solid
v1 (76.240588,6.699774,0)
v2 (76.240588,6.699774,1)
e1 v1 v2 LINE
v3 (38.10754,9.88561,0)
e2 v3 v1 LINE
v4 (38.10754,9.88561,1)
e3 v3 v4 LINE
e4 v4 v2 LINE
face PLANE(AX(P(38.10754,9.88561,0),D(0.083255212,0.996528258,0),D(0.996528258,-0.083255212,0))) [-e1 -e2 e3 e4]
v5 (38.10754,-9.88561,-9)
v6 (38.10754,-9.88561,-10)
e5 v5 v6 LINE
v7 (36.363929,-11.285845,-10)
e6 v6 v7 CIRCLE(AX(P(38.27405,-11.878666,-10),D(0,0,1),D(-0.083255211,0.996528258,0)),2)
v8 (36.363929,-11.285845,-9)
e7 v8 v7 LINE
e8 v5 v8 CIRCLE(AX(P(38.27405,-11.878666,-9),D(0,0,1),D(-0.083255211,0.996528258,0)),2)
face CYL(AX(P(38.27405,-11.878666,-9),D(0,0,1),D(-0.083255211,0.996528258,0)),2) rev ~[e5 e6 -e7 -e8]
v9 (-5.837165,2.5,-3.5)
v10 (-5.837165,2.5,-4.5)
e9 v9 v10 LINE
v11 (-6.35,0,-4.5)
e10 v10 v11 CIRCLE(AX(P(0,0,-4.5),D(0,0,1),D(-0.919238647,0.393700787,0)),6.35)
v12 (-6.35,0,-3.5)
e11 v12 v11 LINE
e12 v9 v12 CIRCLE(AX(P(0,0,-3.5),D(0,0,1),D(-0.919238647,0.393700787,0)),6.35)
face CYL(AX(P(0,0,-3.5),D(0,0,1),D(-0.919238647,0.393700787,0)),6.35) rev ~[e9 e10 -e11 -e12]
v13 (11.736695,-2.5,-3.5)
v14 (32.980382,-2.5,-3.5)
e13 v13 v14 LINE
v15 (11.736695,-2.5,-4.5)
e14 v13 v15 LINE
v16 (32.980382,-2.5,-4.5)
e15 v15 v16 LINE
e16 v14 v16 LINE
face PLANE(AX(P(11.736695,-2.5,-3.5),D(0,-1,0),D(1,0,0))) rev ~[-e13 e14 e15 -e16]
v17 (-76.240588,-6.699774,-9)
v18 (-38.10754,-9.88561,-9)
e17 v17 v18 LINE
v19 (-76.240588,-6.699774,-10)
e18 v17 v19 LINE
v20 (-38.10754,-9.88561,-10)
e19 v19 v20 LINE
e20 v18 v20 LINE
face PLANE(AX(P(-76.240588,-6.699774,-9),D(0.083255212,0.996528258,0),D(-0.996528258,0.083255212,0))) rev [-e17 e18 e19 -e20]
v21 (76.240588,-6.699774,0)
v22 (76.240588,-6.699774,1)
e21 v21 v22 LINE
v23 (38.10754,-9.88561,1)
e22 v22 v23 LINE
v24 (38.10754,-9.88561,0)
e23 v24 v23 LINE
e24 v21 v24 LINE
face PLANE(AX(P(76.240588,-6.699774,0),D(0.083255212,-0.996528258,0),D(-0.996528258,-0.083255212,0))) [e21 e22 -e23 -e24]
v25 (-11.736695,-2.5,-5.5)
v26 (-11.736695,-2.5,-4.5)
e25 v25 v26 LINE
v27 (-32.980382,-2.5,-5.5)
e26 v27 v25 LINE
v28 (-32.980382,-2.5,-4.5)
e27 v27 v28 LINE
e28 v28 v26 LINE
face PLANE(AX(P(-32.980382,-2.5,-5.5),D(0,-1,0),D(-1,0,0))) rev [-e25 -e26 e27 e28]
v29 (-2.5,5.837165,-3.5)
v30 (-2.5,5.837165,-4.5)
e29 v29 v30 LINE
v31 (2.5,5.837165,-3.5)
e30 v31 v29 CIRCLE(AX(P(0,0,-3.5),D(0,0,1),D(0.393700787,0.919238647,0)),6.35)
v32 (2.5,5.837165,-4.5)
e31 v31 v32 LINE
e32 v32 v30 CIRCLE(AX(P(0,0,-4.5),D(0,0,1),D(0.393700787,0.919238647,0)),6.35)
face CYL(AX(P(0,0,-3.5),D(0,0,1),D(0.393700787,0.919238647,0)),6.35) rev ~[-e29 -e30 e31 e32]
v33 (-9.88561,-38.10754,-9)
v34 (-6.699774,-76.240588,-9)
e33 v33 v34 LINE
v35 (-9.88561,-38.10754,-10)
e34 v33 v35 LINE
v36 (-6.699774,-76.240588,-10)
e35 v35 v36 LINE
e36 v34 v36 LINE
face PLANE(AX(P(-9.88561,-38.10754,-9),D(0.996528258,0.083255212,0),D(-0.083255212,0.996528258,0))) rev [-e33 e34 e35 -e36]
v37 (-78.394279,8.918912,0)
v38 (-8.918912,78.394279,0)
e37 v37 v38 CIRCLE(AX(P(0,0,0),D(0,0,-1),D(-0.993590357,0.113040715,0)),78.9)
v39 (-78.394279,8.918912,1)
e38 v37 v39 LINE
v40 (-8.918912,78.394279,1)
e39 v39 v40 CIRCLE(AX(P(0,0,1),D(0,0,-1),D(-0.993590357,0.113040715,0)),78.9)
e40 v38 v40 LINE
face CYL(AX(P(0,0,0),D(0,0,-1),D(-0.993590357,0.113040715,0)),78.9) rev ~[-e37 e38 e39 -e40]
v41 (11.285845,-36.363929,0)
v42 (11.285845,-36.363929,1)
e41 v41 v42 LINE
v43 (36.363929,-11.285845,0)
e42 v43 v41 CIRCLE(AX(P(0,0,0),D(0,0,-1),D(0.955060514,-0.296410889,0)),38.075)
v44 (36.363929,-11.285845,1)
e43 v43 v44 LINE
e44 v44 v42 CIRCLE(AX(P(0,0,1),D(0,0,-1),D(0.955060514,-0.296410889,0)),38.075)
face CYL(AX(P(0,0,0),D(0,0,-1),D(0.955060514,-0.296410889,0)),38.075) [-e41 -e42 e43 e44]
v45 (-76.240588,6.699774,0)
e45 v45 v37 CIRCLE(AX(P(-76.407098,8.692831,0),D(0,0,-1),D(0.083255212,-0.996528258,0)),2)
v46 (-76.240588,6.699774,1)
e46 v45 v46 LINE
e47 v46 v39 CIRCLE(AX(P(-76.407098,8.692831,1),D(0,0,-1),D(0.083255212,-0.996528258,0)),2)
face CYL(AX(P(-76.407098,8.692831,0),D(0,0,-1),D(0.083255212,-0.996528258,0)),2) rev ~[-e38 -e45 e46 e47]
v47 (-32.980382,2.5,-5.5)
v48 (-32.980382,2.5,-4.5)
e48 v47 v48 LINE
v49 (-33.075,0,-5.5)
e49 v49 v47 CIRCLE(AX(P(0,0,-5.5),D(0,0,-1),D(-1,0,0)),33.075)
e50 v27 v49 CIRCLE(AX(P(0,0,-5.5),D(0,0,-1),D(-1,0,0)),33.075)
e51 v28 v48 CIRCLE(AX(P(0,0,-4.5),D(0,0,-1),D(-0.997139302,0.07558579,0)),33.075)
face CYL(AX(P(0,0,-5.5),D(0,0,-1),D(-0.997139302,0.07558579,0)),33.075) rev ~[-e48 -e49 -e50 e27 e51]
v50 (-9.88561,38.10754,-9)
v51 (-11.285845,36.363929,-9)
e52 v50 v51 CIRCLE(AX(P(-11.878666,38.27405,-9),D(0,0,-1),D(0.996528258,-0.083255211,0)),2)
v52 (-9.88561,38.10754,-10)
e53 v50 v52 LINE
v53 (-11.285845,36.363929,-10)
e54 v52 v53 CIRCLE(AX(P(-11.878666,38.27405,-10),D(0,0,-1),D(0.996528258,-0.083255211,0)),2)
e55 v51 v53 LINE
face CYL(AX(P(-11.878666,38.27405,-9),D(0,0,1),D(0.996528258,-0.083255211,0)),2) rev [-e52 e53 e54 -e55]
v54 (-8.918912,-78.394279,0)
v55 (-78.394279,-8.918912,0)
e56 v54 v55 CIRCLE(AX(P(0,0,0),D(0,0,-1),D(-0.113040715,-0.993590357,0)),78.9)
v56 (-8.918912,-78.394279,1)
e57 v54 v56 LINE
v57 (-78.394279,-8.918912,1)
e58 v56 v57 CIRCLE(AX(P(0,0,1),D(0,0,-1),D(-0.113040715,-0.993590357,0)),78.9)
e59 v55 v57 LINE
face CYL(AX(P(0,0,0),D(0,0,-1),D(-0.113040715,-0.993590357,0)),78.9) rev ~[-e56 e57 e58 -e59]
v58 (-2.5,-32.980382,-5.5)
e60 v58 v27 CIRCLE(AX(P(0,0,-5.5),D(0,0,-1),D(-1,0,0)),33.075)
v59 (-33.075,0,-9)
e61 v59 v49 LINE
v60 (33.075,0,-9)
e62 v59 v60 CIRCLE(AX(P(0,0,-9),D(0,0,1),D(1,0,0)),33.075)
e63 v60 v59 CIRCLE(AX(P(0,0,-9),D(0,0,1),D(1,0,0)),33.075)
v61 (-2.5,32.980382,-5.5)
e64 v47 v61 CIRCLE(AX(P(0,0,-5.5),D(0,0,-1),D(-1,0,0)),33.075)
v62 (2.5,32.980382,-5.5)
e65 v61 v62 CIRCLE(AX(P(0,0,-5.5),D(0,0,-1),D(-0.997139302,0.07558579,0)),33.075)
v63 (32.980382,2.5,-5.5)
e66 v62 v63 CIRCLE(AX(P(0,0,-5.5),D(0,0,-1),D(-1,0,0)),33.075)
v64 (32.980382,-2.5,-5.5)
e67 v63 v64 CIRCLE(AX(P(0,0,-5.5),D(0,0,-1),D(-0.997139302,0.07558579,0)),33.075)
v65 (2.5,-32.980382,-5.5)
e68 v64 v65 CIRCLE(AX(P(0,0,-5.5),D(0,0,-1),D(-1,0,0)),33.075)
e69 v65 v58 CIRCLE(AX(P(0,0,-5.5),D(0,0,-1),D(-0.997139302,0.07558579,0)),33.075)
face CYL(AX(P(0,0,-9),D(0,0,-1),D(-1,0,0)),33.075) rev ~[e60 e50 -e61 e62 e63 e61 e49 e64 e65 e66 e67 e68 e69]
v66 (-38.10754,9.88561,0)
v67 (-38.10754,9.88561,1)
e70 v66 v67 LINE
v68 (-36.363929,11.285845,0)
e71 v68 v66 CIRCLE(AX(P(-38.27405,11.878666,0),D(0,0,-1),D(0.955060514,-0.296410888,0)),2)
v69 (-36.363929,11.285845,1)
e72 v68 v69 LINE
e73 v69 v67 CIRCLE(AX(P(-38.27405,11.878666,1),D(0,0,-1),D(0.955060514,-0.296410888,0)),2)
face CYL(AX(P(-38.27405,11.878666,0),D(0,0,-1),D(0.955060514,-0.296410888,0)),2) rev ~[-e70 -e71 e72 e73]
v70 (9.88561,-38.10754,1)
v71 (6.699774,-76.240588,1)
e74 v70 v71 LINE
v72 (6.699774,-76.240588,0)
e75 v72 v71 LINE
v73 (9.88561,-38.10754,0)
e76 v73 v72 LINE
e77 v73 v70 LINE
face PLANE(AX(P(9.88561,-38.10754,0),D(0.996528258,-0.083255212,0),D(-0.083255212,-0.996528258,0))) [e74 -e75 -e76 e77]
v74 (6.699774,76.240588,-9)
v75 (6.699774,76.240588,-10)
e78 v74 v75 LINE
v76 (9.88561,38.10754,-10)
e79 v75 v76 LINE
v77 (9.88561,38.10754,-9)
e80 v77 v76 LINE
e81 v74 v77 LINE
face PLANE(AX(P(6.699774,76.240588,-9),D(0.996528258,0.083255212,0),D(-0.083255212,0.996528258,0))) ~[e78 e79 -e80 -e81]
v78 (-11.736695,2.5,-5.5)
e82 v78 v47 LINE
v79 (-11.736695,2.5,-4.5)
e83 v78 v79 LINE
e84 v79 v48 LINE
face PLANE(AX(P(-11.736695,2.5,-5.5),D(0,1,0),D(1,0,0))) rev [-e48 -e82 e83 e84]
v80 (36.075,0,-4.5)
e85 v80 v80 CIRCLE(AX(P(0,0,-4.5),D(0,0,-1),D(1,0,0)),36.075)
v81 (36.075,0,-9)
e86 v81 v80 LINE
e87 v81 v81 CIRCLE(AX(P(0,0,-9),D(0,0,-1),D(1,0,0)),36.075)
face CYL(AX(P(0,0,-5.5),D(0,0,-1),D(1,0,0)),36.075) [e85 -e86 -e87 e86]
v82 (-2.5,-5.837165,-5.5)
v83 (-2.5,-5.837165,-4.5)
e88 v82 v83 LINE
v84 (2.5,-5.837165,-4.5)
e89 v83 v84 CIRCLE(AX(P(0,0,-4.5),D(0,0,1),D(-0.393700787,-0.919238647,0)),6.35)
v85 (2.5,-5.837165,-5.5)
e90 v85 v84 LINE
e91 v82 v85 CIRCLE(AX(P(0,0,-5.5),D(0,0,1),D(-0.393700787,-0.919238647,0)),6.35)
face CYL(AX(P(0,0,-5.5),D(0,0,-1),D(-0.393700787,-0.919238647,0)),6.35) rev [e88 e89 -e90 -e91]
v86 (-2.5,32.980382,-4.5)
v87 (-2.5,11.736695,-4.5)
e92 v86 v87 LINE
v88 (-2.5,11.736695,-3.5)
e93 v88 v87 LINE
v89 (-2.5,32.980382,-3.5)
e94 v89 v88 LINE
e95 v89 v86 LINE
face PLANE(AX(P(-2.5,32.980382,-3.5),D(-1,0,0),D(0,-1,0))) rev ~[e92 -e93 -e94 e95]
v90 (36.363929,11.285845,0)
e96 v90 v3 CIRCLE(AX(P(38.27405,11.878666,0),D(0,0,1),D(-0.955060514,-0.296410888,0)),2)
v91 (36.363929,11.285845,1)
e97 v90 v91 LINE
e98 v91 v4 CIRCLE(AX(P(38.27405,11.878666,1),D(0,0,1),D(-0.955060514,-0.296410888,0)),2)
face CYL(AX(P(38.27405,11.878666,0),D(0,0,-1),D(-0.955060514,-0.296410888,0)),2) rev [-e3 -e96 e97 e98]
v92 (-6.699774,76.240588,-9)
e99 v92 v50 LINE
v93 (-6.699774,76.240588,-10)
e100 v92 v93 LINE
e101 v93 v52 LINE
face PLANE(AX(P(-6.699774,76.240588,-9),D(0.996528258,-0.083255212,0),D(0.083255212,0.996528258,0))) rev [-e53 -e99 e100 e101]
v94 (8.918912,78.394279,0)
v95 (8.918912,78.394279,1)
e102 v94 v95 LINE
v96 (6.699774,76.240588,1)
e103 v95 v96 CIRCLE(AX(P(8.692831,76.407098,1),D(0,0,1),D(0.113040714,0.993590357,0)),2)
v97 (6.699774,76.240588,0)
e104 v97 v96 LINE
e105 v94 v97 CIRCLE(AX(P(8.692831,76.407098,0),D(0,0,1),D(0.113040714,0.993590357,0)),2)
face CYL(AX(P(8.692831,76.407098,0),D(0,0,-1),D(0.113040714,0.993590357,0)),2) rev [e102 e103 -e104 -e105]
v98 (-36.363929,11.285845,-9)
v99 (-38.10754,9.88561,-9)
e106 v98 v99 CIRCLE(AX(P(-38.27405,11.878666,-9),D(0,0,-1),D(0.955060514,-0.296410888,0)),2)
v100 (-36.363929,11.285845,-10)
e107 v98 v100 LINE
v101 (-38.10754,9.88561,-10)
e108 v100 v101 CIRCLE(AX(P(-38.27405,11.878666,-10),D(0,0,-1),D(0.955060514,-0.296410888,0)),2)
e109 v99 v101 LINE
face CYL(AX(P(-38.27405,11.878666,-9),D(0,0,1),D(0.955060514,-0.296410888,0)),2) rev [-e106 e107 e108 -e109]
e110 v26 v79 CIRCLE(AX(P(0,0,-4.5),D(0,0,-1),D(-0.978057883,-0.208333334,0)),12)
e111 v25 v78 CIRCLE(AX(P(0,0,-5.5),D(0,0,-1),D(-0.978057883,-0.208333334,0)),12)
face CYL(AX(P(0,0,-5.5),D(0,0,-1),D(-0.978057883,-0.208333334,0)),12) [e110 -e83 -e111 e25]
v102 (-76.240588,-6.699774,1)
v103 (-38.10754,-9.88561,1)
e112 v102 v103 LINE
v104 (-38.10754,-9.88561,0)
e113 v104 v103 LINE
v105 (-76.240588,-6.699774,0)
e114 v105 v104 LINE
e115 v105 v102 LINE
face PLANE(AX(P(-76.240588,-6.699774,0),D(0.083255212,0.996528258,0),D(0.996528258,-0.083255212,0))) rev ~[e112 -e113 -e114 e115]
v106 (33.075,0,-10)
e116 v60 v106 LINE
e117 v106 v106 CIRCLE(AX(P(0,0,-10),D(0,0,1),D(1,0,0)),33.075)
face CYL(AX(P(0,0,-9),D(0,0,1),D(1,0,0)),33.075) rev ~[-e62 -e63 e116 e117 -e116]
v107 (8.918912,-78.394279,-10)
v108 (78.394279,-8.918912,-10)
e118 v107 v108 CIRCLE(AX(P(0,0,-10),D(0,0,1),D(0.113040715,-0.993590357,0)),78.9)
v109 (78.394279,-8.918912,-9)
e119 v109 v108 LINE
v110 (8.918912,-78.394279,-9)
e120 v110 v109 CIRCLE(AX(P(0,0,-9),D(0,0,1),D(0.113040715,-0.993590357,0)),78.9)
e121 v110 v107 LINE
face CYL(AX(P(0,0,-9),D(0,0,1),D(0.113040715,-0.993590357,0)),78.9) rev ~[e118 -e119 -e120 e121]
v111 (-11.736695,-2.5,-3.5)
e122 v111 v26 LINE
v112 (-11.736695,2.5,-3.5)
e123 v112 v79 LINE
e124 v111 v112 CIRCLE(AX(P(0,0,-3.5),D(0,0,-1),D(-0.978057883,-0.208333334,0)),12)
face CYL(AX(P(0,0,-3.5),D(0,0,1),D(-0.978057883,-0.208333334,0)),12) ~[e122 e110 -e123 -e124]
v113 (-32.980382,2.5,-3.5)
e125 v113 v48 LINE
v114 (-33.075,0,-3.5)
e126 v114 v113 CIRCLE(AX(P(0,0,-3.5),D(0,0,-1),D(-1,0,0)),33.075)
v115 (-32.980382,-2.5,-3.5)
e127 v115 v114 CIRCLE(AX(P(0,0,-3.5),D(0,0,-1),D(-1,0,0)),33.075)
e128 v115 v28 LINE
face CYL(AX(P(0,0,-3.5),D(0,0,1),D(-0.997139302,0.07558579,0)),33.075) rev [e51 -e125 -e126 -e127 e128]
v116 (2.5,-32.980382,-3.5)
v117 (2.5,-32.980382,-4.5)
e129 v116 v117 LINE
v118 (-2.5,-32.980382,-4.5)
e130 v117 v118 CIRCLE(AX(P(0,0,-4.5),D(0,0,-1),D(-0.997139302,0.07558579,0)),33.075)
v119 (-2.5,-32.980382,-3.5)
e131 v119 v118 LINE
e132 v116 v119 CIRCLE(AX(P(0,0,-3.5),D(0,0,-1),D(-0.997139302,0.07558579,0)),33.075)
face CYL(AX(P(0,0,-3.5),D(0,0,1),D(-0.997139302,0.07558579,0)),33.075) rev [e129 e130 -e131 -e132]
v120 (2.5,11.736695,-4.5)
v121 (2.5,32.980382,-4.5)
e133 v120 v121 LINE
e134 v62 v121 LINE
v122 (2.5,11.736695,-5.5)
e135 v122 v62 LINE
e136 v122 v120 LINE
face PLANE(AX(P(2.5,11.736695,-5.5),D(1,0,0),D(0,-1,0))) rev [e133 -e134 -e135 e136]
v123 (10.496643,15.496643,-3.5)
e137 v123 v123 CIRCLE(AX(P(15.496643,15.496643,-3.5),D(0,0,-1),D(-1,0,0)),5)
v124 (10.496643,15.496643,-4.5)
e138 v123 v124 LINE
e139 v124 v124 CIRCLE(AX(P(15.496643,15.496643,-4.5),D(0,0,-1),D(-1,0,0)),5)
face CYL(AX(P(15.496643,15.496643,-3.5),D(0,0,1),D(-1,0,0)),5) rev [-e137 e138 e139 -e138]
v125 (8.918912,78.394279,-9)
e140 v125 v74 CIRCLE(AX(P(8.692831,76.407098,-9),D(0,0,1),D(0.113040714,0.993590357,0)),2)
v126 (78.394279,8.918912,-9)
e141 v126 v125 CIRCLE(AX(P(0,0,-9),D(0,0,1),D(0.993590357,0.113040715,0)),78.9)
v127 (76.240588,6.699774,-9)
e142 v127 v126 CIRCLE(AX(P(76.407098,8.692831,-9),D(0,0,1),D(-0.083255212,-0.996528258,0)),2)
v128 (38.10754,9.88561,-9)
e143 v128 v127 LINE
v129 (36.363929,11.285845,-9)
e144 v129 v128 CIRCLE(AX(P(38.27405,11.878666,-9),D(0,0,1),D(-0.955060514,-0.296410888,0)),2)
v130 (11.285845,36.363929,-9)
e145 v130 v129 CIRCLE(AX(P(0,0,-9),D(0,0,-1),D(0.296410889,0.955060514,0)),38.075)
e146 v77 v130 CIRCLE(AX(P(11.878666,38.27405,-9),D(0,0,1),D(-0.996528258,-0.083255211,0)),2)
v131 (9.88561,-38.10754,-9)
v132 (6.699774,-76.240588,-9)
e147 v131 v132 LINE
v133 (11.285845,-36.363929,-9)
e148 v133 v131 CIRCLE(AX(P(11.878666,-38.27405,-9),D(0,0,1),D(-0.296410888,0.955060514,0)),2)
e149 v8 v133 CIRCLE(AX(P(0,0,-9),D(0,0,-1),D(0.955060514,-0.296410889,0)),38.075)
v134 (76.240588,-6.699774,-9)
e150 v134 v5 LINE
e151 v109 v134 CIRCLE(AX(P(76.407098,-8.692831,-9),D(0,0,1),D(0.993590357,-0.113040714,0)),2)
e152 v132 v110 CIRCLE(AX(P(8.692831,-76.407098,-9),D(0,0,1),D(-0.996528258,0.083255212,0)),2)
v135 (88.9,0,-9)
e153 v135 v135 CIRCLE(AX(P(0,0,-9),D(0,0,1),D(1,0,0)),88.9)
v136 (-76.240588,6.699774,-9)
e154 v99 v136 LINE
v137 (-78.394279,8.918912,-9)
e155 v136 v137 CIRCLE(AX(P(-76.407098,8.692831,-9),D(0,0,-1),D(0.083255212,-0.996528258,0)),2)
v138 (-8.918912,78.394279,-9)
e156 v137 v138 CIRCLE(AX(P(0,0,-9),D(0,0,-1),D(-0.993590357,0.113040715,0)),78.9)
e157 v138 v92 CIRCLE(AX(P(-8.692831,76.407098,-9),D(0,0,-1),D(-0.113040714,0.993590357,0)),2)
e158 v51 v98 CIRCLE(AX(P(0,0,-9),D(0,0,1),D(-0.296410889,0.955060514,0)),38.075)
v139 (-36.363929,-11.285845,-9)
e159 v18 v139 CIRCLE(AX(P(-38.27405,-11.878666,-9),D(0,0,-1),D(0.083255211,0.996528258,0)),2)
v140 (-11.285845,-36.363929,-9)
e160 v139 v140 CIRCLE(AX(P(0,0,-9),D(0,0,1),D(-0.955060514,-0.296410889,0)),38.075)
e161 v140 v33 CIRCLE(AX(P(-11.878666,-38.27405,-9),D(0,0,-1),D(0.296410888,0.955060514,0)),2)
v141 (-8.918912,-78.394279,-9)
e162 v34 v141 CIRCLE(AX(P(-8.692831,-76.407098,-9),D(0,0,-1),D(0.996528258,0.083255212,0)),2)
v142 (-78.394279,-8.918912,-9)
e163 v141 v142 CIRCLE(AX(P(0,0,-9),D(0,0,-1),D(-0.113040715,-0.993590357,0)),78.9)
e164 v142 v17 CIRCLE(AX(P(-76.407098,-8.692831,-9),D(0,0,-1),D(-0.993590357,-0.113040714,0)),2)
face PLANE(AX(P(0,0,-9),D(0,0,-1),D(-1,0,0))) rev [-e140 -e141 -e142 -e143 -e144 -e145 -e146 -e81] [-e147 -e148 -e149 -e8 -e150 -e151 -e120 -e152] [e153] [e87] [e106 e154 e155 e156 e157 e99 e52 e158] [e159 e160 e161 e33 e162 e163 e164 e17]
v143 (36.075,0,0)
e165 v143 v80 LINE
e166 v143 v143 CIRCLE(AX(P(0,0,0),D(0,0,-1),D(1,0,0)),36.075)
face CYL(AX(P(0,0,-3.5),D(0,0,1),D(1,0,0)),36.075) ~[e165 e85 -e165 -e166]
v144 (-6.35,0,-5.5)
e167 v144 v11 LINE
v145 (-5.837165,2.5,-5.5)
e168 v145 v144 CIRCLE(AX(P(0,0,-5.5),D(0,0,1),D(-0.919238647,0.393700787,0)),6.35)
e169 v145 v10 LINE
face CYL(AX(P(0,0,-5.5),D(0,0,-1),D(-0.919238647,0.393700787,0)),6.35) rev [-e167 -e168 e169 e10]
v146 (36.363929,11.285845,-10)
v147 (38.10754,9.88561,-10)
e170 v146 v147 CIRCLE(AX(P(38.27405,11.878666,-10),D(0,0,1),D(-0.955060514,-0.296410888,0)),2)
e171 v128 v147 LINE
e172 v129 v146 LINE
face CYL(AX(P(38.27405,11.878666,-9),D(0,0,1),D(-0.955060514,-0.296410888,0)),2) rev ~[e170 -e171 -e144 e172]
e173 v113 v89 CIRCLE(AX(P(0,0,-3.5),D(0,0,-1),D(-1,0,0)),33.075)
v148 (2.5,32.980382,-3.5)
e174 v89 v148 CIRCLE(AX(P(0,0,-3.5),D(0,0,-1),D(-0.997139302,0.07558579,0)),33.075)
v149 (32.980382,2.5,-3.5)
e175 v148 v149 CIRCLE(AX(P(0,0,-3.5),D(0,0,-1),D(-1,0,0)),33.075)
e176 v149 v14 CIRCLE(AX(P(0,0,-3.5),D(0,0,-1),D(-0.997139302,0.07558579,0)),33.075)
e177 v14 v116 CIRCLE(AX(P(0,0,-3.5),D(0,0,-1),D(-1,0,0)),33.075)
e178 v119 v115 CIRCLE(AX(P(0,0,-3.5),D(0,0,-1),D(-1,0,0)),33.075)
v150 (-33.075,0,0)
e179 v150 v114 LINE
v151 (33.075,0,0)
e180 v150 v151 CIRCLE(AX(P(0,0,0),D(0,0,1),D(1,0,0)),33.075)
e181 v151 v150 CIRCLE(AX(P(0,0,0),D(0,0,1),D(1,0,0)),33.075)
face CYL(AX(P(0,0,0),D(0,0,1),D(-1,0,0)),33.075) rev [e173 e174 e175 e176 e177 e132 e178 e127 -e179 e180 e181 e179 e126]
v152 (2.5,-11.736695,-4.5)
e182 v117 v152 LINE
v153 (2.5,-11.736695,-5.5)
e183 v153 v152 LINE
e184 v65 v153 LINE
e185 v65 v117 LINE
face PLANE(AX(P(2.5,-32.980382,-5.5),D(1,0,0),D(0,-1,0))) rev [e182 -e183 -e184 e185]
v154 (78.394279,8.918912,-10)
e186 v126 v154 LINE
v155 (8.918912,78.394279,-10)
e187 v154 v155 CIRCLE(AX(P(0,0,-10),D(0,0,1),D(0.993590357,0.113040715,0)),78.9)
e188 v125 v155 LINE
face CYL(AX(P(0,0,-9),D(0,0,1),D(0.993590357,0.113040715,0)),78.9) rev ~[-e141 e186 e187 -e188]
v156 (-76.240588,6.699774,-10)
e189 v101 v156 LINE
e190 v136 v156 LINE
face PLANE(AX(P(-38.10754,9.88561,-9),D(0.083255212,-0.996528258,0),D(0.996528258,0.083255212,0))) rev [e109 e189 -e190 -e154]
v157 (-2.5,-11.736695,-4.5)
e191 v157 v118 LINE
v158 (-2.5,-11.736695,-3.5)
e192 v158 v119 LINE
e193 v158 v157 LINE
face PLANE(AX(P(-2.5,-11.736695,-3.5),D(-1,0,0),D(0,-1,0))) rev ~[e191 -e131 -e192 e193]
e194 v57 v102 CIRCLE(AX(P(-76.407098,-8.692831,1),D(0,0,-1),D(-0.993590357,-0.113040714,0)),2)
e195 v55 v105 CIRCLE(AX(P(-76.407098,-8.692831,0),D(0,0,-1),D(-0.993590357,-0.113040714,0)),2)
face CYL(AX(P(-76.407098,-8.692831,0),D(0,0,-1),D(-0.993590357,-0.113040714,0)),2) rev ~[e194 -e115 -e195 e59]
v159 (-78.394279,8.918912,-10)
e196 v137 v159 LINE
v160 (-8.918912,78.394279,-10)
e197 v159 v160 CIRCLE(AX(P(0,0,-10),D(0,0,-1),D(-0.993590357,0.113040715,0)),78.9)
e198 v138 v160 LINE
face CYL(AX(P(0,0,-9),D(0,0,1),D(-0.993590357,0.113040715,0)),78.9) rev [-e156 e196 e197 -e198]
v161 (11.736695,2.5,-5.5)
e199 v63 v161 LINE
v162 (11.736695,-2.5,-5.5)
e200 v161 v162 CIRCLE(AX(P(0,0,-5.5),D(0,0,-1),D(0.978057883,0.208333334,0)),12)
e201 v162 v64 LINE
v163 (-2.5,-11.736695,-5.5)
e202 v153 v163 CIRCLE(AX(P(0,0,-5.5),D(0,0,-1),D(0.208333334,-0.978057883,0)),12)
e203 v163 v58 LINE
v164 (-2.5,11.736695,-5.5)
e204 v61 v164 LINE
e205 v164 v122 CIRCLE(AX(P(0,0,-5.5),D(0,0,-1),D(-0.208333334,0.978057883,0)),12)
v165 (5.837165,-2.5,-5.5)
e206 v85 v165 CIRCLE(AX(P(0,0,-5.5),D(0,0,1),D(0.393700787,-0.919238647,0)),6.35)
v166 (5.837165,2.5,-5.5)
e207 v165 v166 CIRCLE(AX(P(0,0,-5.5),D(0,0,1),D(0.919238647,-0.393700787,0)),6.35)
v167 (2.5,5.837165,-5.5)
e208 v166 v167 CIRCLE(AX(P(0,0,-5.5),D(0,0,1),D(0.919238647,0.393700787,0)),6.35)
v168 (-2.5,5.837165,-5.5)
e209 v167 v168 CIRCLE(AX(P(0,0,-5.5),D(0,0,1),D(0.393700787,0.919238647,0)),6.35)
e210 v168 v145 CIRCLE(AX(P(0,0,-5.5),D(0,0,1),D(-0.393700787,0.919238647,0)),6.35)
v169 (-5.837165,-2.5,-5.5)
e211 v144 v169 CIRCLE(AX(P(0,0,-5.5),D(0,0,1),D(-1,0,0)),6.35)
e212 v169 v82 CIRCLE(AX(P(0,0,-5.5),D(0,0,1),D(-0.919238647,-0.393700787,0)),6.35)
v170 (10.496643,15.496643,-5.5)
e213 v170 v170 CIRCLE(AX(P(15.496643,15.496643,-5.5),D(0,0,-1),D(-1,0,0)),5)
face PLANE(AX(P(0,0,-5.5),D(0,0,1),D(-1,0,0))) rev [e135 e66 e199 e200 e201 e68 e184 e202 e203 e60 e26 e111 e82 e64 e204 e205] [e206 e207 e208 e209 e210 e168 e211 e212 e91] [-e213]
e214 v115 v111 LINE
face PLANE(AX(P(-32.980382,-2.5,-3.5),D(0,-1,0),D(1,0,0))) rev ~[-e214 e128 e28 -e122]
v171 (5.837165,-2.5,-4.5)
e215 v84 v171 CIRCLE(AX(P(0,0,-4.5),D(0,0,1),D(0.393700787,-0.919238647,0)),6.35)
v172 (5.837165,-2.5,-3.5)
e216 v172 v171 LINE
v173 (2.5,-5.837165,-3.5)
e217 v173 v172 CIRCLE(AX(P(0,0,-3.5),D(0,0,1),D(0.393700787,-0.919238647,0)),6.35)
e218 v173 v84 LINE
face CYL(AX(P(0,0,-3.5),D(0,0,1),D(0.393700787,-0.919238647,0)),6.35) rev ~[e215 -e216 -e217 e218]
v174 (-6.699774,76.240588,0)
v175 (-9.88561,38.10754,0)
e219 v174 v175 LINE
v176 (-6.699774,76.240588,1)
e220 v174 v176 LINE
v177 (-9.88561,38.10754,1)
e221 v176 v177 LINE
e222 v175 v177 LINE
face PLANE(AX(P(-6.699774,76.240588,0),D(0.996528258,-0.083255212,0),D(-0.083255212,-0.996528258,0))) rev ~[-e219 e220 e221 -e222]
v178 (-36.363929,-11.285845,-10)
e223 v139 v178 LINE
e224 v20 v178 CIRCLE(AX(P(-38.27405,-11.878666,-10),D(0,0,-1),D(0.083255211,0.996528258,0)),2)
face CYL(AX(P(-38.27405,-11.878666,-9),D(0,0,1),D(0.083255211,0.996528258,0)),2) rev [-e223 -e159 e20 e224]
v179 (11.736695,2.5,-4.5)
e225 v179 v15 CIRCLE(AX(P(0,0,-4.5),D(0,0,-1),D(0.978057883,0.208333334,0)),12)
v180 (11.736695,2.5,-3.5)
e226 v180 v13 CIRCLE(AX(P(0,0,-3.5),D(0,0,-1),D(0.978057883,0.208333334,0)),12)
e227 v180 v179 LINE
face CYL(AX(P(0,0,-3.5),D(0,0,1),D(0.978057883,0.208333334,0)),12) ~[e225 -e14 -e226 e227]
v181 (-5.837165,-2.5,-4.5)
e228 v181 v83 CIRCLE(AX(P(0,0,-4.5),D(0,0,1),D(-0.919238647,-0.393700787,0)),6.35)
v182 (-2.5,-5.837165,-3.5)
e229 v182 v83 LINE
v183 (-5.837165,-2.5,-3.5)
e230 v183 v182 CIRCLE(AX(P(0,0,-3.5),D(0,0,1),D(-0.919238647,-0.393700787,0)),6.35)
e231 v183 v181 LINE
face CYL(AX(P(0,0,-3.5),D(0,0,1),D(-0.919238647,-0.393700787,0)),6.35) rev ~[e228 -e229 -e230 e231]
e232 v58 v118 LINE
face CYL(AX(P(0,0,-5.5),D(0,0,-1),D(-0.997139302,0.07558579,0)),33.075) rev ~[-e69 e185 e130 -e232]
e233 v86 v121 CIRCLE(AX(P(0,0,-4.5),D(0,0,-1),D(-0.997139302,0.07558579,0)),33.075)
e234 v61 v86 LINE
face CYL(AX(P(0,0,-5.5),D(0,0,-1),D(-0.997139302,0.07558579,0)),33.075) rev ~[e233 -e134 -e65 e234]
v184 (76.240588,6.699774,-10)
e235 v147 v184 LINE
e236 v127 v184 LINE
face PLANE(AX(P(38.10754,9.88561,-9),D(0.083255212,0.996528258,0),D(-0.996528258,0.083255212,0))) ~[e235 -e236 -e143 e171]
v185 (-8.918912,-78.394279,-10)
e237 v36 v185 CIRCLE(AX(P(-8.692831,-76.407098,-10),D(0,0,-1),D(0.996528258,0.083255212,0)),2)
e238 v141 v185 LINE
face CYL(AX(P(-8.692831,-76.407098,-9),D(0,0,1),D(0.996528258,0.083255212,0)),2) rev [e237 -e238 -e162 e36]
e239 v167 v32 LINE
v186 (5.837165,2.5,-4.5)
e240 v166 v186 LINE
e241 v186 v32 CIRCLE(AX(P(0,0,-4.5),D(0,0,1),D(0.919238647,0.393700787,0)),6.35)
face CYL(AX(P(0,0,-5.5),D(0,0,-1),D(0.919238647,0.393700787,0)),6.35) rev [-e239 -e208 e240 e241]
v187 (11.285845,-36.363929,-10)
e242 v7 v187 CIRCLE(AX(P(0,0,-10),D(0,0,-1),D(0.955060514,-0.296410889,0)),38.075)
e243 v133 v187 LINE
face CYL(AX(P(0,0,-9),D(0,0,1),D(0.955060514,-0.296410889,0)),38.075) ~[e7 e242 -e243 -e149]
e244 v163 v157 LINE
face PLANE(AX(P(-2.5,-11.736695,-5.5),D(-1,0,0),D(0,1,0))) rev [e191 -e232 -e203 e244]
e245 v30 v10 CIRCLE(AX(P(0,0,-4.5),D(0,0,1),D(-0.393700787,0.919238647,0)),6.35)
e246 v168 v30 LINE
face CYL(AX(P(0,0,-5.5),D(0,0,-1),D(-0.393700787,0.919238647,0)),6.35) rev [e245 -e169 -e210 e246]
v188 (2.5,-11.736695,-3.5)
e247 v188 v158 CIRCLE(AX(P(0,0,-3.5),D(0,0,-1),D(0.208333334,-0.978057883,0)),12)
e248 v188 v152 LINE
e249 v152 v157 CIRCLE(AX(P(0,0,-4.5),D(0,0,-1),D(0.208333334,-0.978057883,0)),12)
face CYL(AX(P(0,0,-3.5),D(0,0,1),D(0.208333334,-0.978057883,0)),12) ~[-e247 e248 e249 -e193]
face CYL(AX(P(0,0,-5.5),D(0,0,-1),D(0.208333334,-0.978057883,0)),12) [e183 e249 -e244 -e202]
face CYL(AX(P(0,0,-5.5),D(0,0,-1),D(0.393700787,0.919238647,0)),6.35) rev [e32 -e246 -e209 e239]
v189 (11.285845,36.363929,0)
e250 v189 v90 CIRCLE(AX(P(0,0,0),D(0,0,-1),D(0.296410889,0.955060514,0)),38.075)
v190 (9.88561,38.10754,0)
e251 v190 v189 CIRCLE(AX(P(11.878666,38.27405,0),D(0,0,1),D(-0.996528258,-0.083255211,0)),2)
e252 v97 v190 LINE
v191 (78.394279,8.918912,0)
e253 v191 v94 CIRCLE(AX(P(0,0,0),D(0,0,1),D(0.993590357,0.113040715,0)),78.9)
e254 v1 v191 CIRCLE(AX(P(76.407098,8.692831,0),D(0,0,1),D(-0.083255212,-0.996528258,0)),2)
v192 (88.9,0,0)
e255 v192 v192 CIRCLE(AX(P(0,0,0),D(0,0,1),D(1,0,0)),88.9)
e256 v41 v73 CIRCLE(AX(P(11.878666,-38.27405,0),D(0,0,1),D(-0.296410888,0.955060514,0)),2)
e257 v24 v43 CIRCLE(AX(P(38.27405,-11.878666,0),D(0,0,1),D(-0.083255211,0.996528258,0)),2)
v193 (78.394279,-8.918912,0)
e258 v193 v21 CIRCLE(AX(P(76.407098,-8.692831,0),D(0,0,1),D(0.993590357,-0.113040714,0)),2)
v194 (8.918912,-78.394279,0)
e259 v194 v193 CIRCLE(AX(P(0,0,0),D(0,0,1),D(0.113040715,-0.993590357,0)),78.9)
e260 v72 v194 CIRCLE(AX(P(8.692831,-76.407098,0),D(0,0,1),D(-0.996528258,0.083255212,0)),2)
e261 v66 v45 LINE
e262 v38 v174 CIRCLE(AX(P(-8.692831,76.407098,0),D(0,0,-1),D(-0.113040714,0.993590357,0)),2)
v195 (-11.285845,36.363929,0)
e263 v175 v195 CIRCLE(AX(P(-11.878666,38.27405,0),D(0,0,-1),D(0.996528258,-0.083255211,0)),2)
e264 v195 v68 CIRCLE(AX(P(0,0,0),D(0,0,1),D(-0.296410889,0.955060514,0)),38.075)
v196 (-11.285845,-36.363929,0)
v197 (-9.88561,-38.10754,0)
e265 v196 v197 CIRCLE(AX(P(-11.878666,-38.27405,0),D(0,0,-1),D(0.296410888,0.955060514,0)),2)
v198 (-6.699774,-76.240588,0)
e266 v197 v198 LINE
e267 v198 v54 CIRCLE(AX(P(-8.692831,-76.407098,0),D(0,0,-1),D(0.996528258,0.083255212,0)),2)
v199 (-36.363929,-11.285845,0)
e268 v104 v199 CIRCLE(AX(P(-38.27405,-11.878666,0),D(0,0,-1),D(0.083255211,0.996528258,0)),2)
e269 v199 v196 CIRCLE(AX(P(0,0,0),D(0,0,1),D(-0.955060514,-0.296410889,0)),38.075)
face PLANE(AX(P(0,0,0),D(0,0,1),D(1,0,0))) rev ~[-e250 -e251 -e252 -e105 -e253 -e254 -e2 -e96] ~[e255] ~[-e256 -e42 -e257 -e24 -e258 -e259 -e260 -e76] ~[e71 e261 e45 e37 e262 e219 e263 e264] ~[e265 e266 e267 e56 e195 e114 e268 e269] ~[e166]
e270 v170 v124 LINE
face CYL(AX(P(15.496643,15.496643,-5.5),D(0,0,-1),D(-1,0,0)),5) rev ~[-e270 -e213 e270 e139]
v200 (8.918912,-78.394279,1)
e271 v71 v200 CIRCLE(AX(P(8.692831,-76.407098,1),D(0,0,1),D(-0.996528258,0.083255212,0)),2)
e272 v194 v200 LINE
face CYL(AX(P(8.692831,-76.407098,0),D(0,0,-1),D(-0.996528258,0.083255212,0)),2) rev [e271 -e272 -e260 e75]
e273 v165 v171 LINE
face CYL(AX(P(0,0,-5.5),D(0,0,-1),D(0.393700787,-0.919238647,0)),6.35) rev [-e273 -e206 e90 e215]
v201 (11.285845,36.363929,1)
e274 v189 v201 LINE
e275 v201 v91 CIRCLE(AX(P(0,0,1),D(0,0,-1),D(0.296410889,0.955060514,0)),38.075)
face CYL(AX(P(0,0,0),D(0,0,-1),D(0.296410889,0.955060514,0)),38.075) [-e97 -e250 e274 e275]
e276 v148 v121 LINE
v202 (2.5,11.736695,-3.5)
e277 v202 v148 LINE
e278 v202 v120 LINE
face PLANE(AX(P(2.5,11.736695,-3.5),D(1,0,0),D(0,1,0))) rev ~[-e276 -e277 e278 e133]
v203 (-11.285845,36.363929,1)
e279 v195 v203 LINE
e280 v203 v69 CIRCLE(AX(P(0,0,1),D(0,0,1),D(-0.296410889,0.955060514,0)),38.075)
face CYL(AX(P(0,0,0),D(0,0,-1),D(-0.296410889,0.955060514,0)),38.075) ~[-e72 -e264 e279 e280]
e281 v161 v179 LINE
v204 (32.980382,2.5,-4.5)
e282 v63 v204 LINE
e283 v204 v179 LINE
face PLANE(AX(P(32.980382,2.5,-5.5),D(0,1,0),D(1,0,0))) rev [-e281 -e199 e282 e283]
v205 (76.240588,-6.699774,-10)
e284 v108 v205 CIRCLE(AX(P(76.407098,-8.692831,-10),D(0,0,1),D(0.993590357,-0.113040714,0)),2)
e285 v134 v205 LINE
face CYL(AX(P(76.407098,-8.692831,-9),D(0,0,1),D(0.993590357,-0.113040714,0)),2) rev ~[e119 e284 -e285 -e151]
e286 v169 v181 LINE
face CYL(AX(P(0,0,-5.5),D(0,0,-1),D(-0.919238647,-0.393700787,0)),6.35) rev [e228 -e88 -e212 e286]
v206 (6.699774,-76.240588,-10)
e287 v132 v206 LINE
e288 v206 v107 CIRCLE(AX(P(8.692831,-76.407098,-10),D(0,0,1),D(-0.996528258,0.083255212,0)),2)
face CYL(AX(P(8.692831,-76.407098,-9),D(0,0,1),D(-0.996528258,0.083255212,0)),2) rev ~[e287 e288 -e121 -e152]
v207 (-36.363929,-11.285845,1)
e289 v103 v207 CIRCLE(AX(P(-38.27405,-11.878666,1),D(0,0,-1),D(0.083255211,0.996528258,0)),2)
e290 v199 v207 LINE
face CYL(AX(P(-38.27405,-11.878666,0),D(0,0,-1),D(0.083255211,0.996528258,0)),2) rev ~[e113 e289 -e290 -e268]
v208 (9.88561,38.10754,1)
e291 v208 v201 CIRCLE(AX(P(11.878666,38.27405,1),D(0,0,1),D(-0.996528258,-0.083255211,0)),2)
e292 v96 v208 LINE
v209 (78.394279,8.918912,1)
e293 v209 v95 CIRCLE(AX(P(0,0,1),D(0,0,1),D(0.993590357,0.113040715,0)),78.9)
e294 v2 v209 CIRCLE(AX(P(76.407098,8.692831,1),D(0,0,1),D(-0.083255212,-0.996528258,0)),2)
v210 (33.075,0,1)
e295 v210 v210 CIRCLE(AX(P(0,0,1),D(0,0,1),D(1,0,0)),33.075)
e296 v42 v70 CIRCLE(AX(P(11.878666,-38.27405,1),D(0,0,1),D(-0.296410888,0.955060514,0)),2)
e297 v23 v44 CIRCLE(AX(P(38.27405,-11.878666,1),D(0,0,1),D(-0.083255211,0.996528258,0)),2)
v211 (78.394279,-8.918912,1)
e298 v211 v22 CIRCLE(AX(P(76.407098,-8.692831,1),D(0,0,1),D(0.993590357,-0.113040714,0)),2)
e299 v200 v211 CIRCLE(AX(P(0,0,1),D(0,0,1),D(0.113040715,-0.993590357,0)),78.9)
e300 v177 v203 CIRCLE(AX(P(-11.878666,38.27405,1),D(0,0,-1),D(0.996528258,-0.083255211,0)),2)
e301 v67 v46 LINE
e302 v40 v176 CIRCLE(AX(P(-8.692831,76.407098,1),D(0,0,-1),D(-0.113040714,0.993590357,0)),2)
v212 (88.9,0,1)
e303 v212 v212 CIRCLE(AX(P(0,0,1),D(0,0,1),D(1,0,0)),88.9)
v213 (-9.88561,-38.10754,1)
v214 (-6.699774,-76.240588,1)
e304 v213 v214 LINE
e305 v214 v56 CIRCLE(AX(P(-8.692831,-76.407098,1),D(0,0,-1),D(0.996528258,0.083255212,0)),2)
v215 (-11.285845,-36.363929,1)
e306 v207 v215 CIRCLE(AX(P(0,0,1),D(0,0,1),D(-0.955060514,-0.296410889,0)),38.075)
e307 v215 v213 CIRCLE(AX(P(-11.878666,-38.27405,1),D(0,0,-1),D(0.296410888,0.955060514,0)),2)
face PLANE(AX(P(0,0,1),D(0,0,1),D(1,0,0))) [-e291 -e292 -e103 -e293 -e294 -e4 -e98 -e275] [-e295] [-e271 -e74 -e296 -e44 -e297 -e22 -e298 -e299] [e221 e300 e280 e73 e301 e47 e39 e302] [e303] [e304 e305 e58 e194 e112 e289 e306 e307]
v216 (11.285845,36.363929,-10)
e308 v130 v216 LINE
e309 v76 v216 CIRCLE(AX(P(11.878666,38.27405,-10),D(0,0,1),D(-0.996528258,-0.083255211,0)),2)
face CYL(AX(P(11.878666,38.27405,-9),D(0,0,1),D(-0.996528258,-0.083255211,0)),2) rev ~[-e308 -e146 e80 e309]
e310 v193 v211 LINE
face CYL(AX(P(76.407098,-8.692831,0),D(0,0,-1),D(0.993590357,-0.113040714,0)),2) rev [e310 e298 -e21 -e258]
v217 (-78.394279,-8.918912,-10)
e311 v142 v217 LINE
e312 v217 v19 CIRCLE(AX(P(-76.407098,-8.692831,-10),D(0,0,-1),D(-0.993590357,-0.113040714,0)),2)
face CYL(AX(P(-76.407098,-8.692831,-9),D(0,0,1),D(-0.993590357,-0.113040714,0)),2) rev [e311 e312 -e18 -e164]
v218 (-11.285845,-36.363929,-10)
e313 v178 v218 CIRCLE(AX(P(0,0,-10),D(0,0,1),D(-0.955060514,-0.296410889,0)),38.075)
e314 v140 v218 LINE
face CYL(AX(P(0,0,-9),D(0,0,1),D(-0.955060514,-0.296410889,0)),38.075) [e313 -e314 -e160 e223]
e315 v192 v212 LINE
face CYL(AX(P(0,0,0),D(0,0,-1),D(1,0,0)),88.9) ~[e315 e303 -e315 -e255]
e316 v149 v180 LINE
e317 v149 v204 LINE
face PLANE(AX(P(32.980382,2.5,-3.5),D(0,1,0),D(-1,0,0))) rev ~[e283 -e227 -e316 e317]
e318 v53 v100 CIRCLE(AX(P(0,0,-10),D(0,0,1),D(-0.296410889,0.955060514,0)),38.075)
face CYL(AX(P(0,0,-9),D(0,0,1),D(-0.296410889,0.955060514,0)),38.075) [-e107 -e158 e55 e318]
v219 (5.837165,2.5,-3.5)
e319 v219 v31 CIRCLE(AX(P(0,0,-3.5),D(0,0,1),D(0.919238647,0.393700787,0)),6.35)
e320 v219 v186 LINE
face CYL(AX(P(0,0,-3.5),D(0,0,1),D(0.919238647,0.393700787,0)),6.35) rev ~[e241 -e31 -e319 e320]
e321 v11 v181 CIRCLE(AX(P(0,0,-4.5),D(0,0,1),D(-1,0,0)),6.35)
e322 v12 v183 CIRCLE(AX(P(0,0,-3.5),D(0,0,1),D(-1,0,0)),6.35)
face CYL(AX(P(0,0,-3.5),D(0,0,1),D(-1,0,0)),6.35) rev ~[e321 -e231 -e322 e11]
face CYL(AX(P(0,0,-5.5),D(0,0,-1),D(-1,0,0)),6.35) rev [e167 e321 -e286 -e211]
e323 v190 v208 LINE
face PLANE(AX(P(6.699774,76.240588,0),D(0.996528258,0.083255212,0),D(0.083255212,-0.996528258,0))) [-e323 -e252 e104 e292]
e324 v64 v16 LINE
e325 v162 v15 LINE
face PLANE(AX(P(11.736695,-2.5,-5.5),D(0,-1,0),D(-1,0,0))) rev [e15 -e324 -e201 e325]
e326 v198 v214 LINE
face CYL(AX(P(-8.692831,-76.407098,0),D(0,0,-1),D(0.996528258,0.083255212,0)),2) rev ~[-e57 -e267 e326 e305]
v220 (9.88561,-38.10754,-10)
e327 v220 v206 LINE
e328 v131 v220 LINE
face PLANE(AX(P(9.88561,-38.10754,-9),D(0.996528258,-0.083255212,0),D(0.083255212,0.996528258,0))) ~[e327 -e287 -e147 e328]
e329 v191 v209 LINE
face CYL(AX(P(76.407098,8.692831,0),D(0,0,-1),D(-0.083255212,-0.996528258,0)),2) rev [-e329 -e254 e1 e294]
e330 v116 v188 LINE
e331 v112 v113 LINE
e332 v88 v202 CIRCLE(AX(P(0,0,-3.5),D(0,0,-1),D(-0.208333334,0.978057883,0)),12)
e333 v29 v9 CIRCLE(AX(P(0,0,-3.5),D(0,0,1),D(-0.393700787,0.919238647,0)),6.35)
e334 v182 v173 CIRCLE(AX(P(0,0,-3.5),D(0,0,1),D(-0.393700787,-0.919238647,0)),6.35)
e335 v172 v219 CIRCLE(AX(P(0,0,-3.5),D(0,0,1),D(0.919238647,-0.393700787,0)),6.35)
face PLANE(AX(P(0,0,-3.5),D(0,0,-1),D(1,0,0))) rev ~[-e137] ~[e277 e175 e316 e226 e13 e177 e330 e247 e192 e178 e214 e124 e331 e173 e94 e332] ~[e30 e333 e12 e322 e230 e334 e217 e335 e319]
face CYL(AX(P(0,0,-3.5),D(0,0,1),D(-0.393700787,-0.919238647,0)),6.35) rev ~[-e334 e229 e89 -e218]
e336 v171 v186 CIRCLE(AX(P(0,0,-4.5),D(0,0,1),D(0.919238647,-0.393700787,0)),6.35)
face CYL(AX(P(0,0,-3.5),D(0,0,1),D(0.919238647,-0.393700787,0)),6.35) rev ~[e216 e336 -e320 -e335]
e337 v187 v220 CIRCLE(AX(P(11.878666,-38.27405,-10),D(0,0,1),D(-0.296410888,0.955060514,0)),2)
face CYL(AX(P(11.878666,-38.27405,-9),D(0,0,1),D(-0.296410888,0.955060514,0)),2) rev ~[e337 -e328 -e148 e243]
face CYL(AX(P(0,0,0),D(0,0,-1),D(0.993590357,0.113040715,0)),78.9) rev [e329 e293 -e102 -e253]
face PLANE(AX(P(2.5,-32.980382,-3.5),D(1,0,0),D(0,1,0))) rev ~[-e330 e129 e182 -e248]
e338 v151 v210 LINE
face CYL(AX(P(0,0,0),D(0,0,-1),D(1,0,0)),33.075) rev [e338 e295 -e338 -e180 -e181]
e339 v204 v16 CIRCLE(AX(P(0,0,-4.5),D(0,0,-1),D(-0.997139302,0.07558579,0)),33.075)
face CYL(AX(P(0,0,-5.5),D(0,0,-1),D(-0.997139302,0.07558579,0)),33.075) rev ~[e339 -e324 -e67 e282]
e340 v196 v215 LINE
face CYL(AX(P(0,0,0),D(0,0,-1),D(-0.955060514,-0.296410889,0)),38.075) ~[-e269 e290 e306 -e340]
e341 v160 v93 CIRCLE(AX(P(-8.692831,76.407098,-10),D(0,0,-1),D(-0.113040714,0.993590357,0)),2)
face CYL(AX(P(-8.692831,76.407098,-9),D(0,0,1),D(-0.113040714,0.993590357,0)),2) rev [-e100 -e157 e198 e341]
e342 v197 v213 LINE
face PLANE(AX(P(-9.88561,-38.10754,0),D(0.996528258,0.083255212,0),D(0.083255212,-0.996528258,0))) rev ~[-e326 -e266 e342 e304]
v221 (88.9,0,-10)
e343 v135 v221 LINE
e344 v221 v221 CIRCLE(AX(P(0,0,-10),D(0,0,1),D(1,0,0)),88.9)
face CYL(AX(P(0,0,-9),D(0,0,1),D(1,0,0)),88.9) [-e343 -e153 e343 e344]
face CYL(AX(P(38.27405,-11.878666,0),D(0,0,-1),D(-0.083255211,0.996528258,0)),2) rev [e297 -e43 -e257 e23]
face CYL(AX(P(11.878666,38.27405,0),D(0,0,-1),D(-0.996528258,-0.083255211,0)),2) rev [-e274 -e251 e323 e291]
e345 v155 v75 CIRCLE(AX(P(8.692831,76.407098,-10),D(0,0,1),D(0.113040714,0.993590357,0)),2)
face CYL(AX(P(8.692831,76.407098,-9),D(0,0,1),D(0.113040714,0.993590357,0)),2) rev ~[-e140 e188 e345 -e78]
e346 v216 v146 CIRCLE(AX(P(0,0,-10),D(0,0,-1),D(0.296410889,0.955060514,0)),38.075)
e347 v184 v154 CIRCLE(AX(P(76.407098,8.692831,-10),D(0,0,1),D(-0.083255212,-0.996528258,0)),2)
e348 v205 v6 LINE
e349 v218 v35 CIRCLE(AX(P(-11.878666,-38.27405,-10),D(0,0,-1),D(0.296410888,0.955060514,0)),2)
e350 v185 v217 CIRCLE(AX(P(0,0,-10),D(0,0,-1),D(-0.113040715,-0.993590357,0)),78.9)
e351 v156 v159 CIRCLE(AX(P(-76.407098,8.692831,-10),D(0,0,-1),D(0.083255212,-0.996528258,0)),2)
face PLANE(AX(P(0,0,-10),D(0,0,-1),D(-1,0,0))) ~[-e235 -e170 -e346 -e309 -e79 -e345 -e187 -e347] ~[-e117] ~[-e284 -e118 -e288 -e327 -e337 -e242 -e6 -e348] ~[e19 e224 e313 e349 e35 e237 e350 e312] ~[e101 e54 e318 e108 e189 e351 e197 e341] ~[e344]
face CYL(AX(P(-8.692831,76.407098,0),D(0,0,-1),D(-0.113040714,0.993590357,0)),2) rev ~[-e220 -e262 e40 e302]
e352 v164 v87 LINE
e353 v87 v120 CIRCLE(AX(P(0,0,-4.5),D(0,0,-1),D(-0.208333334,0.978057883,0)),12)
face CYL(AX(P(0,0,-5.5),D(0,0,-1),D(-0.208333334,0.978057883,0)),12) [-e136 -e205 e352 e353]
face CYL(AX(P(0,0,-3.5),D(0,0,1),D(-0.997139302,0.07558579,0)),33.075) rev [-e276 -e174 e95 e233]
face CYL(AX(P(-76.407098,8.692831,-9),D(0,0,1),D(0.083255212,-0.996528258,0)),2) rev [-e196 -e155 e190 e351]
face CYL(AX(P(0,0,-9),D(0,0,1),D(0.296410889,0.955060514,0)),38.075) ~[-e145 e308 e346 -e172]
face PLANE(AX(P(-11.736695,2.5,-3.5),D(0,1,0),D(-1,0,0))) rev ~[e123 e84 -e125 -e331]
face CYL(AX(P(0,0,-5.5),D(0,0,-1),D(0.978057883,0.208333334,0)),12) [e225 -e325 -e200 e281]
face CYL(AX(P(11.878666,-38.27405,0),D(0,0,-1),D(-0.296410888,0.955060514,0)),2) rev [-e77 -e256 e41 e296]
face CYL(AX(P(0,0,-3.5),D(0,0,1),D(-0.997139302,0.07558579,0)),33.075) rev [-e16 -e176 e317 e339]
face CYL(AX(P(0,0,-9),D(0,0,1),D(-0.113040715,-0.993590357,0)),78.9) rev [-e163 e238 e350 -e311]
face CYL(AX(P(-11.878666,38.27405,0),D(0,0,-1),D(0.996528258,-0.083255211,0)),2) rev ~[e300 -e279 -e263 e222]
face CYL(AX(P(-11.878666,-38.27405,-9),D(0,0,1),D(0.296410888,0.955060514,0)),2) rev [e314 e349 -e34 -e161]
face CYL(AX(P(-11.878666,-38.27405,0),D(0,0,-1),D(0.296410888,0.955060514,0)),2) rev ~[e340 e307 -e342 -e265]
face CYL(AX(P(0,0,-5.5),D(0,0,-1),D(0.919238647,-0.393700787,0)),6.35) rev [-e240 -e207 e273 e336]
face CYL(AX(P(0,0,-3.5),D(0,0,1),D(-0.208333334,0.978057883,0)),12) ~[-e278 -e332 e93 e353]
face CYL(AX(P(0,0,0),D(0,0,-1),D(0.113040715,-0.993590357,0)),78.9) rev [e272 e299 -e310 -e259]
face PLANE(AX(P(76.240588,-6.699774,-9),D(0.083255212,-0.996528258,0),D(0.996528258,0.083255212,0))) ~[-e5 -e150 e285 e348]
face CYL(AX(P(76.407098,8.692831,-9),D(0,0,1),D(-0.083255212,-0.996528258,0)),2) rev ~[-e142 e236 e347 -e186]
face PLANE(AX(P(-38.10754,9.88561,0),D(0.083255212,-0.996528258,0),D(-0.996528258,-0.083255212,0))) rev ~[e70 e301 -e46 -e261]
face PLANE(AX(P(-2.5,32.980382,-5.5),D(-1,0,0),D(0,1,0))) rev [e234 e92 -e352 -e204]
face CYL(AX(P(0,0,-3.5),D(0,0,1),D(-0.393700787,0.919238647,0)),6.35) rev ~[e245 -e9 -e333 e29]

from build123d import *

# Parameters (mm, degrees)
SKETCH1_R           = 88.9
SKETCH1_R_2         = 33.075
BOSS_EXTRUDE1_DEPTH = 1
SKETCH2_R           = 36.075
SKETCH2_R_2         = 33.075
BOSS_EXTRUDE2_DEPTH = 3.5
SKETCH3_R           = 36.075
SKETCH3_R_2         = 33.075
SKETCH3_R_3         = 5
BOSS_EXTRUDE3_DEPTH = 1


with BuildPart() as part:
    # Sketch1 → Boss-Extrude1 (new body)
    with BuildSketch(Plane.XY):
        Circle(SKETCH1_R)
        Circle(SKETCH1_R_2, mode=Mode.SUBTRACT)
        with BuildLine():
            Line((-6.699774442, 76.240588003), (-9.885609858, 38.107539665))
            ThreePointArc((-9.885609858, 38.107539665), (-10.319263885, 37.02174666), (-11.285844597, 36.363929061))
            ThreePointArc((-11.285844597, 36.363929061), (-26.923090694, 26.923090694), (-36.363929061, 11.285844597))
            ThreePointArc((-36.363929061, 11.285844597), (-37.02174666, 10.319263885), (-38.107539665, 9.885609858))
            Line((-38.107539665, 9.885609858), (-76.240588003, 6.699774442))
            ThreePointArc((-76.240588003, 6.699774442), (-77.842317358, 7.299939499), (-78.39427914, 8.918912388))
            ThreePointArc((-78.39427914, 8.918912388), (-55.790725036, 55.790725036), (-8.918912388, 78.39427914))
            ThreePointArc((-8.918912388, 78.39427914), (-7.299939499, 77.842317358), (-6.699774442, 76.240588003))
        make_face(mode=Mode.SUBTRACT)
        with BuildLine():
            Line((6.699774442, 76.240588003), (9.885609858, 38.107539665))
            ThreePointArc((9.885609858, 38.107539665), (10.319263885, 37.02174666), (11.285844597, 36.363929061))
            ThreePointArc((11.285844597, 36.363929061), (26.923090694, 26.923090694), (36.363929061, 11.285844597))
            ThreePointArc((36.363929061, 11.285844597), (37.02174666, 10.319263885), (38.107539665, 9.885609858))
            Line((38.107539665, 9.885609858), (76.240588003, 6.699774442))
            ThreePointArc((76.240588003, 6.699774442), (77.842317358, 7.299939499), (78.39427914, 8.918912388))
            ThreePointArc((78.39427914, 8.918912388), (55.790725036, 55.790725036), (8.918912388, 78.39427914))
            ThreePointArc((8.918912388, 78.39427914), (7.299939499, 77.842317358), (6.699774442, 76.240588003))
        make_face(mode=Mode.SUBTRACT)
        with BuildLine():
            Line((76.240588003, -6.699774442), (38.107539665, -9.885609858))
            ThreePointArc((38.107539665, -9.885609858), (37.02174666, -10.319263885), (36.363929061, -11.285844597))
            ThreePointArc((36.363929061, -11.285844597), (26.923090694, -26.923090694), (11.285844597, -36.363929061))
            ThreePointArc((11.285844597, -36.363929061), (10.319263885, -37.02174666), (9.885609858, -38.107539665))
            Line((9.885609858, -38.107539665), (6.699774442, -76.240588003))
            ThreePointArc((6.699774442, -76.240588003), (7.299939499, -77.842317358), (8.918912388, -78.39427914))
            ThreePointArc((8.918912388, -78.39427914), (55.790725036, -55.790725036), (78.39427914, -8.918912388))
            ThreePointArc((78.39427914, -8.918912388), (77.842317358, -7.299939499), (76.240588003, -6.699774442))
        make_face(mode=Mode.SUBTRACT)
        with BuildLine():
            Line((-9.885609858, -38.107539665), (-6.699774442, -76.240588003))
            ThreePointArc((-6.699774442, -76.240588003), (-7.299939499, -77.842317358), (-8.918912388, -78.39427914))
            ThreePointArc((-8.918912388, -78.39427914), (-55.790725036, -55.790725036), (-78.39427914, -8.918912388))
            ThreePointArc((-78.39427914, -8.918912388), (-77.842317358, -7.299939499), (-76.240588003, -6.699774442))
            Line((-76.240588003, -6.699774442), (-38.107539665, -9.885609858))
            ThreePointArc((-38.107539665, -9.885609858), (-37.02174666, -10.319263885), (-36.363929061, -11.285844597))
            ThreePointArc((-36.363929061, -11.285844597), (-26.923090694, -26.923090694), (-11.285844597, -36.363929061))
            ThreePointArc((-11.285844597, -36.363929061), (-10.319263885, -37.02174666), (-9.885609858, -38.107539665))
        make_face(mode=Mode.SUBTRACT)
    extrude(amount=BOSS_EXTRUDE1_DEPTH)

    # Sketch2 → Boss-Extrude2 (add)
    with BuildSketch(Plane(origin=(0, 0, 0), x_dir=(-1, 0, 0), z_dir=(0, 0, -1))):
        with Locations(Location((0, 0, 0), (0, 0, 180))):
            Circle(SKETCH2_R)
        Circle(SKETCH2_R_2, mode=Mode.SUBTRACT)
    extrude(amount=BOSS_EXTRUDE2_DEPTH)

    # Sketch3 → Boss-Extrude3 (add)
    with BuildSketch(Plane(origin=(0, 0, -3.5), x_dir=(-1, 0, 0), z_dir=(0, 0, -1))):
        with Locations(Location((0, 0, 0), (0, 0, 180))):
            Circle(SKETCH3_R)
        with Locations(Location((0, 0, 0), (0, 0, 4.334881134))):
            Circle(SKETCH3_R_2, mode=Mode.SUBTRACT)
        with BuildLine():
            Line((-2.5, 11.736694594), (-2.5, 32.980382427))
            ThreePointArc((-2.5, 32.980382427), (-23.387556788, 23.387556788), (-32.980382427, 2.5))
            Line((-32.980382427, 2.5), (-11.736694594, 2.5))
            ThreePointArc((-11.736694594, 2.5), (-12, 0), (-11.736694594, -2.5))
            Line((-11.736694594, -2.5), (-32.980382427, -2.5))
            ThreePointArc((-32.980382427, -2.5), (-23.387556788, -23.387556788), (-2.5, -32.980382427))
            Line((-2.5, -32.980382427), (-2.5, -11.736694594))
            ThreePointArc((-2.5, -11.736694594), (0, -12), (2.5, -11.736694594))
            Line((2.5, -11.736694594), (2.5, -32.980382427))
            ThreePointArc((2.5, -32.980382427), (23.387556788, -23.387556788), (32.980382427, -2.5))
            Line((32.980382427, -2.5), (11.736694594, -2.5))
            ThreePointArc((11.736694594, -2.5), (12, 0), (11.736694594, 2.5))
            Line((11.736694594, 2.5), (32.980382427, 2.5))
            ThreePointArc((32.980382427, 2.5), (23.387556788, 23.387556788), (2.5, 32.980382427))
            Line((2.5, 32.980382427), (2.5, 11.736694594))
            ThreePointArc((2.5, 11.736694594), (0, 12), (-2.5, 11.736694594))
        make_face()
        with Locations((-15.496643432, 15.496643432)):
            Circle(SKETCH3_R_3, mode=Mode.SUBTRACT)
        with BuildLine():
            ThreePointArc((-5.837165408, -2.5), (-6.35, 0), (-5.837165408, 2.5))
            ThreePointArc((-5.837165408, 2.5), (-4.490128061, 4.490128061), (-2.5, 5.837165408))
            ThreePointArc((-2.5, 5.837165408), (0, 6.35), (2.5, 5.837165408))
            ThreePointArc((2.5, 5.837165408), (4.490128061, 4.490128061), (5.837165408, 2.5))
            ThreePointArc((5.837165408, 2.5), (6.220470253, 1.27602893), (6.35, 0))
            ThreePointArc((6.35, 0), (6.220470253, -1.27602893), (5.837165408, -2.5))
            ThreePointArc((5.837165408, -2.5), (4.490128061, -4.490128061), (2.5, -5.837165408))
            ThreePointArc((2.5, -5.837165408), (0, -6.35), (-2.5, -5.837165408))
            ThreePointArc((-2.5, -5.837165408), (-4.490128061, -4.490128061), (-5.837165408, -2.5))
        make_face(mode=Mode.SUBTRACT)
    extrude(amount=BOSS_EXTRUDE3_DEPTH)

    # Mirror4: part across plane


with BuildPart() as part_1:
    add(part.part)
    add(part.part.mirror(Plane(origin=(-79.506421356, 0, -4.5), x_dir=(1, 0, 0), z_dir=(0, 0, -1))))


solid = part_1.part
